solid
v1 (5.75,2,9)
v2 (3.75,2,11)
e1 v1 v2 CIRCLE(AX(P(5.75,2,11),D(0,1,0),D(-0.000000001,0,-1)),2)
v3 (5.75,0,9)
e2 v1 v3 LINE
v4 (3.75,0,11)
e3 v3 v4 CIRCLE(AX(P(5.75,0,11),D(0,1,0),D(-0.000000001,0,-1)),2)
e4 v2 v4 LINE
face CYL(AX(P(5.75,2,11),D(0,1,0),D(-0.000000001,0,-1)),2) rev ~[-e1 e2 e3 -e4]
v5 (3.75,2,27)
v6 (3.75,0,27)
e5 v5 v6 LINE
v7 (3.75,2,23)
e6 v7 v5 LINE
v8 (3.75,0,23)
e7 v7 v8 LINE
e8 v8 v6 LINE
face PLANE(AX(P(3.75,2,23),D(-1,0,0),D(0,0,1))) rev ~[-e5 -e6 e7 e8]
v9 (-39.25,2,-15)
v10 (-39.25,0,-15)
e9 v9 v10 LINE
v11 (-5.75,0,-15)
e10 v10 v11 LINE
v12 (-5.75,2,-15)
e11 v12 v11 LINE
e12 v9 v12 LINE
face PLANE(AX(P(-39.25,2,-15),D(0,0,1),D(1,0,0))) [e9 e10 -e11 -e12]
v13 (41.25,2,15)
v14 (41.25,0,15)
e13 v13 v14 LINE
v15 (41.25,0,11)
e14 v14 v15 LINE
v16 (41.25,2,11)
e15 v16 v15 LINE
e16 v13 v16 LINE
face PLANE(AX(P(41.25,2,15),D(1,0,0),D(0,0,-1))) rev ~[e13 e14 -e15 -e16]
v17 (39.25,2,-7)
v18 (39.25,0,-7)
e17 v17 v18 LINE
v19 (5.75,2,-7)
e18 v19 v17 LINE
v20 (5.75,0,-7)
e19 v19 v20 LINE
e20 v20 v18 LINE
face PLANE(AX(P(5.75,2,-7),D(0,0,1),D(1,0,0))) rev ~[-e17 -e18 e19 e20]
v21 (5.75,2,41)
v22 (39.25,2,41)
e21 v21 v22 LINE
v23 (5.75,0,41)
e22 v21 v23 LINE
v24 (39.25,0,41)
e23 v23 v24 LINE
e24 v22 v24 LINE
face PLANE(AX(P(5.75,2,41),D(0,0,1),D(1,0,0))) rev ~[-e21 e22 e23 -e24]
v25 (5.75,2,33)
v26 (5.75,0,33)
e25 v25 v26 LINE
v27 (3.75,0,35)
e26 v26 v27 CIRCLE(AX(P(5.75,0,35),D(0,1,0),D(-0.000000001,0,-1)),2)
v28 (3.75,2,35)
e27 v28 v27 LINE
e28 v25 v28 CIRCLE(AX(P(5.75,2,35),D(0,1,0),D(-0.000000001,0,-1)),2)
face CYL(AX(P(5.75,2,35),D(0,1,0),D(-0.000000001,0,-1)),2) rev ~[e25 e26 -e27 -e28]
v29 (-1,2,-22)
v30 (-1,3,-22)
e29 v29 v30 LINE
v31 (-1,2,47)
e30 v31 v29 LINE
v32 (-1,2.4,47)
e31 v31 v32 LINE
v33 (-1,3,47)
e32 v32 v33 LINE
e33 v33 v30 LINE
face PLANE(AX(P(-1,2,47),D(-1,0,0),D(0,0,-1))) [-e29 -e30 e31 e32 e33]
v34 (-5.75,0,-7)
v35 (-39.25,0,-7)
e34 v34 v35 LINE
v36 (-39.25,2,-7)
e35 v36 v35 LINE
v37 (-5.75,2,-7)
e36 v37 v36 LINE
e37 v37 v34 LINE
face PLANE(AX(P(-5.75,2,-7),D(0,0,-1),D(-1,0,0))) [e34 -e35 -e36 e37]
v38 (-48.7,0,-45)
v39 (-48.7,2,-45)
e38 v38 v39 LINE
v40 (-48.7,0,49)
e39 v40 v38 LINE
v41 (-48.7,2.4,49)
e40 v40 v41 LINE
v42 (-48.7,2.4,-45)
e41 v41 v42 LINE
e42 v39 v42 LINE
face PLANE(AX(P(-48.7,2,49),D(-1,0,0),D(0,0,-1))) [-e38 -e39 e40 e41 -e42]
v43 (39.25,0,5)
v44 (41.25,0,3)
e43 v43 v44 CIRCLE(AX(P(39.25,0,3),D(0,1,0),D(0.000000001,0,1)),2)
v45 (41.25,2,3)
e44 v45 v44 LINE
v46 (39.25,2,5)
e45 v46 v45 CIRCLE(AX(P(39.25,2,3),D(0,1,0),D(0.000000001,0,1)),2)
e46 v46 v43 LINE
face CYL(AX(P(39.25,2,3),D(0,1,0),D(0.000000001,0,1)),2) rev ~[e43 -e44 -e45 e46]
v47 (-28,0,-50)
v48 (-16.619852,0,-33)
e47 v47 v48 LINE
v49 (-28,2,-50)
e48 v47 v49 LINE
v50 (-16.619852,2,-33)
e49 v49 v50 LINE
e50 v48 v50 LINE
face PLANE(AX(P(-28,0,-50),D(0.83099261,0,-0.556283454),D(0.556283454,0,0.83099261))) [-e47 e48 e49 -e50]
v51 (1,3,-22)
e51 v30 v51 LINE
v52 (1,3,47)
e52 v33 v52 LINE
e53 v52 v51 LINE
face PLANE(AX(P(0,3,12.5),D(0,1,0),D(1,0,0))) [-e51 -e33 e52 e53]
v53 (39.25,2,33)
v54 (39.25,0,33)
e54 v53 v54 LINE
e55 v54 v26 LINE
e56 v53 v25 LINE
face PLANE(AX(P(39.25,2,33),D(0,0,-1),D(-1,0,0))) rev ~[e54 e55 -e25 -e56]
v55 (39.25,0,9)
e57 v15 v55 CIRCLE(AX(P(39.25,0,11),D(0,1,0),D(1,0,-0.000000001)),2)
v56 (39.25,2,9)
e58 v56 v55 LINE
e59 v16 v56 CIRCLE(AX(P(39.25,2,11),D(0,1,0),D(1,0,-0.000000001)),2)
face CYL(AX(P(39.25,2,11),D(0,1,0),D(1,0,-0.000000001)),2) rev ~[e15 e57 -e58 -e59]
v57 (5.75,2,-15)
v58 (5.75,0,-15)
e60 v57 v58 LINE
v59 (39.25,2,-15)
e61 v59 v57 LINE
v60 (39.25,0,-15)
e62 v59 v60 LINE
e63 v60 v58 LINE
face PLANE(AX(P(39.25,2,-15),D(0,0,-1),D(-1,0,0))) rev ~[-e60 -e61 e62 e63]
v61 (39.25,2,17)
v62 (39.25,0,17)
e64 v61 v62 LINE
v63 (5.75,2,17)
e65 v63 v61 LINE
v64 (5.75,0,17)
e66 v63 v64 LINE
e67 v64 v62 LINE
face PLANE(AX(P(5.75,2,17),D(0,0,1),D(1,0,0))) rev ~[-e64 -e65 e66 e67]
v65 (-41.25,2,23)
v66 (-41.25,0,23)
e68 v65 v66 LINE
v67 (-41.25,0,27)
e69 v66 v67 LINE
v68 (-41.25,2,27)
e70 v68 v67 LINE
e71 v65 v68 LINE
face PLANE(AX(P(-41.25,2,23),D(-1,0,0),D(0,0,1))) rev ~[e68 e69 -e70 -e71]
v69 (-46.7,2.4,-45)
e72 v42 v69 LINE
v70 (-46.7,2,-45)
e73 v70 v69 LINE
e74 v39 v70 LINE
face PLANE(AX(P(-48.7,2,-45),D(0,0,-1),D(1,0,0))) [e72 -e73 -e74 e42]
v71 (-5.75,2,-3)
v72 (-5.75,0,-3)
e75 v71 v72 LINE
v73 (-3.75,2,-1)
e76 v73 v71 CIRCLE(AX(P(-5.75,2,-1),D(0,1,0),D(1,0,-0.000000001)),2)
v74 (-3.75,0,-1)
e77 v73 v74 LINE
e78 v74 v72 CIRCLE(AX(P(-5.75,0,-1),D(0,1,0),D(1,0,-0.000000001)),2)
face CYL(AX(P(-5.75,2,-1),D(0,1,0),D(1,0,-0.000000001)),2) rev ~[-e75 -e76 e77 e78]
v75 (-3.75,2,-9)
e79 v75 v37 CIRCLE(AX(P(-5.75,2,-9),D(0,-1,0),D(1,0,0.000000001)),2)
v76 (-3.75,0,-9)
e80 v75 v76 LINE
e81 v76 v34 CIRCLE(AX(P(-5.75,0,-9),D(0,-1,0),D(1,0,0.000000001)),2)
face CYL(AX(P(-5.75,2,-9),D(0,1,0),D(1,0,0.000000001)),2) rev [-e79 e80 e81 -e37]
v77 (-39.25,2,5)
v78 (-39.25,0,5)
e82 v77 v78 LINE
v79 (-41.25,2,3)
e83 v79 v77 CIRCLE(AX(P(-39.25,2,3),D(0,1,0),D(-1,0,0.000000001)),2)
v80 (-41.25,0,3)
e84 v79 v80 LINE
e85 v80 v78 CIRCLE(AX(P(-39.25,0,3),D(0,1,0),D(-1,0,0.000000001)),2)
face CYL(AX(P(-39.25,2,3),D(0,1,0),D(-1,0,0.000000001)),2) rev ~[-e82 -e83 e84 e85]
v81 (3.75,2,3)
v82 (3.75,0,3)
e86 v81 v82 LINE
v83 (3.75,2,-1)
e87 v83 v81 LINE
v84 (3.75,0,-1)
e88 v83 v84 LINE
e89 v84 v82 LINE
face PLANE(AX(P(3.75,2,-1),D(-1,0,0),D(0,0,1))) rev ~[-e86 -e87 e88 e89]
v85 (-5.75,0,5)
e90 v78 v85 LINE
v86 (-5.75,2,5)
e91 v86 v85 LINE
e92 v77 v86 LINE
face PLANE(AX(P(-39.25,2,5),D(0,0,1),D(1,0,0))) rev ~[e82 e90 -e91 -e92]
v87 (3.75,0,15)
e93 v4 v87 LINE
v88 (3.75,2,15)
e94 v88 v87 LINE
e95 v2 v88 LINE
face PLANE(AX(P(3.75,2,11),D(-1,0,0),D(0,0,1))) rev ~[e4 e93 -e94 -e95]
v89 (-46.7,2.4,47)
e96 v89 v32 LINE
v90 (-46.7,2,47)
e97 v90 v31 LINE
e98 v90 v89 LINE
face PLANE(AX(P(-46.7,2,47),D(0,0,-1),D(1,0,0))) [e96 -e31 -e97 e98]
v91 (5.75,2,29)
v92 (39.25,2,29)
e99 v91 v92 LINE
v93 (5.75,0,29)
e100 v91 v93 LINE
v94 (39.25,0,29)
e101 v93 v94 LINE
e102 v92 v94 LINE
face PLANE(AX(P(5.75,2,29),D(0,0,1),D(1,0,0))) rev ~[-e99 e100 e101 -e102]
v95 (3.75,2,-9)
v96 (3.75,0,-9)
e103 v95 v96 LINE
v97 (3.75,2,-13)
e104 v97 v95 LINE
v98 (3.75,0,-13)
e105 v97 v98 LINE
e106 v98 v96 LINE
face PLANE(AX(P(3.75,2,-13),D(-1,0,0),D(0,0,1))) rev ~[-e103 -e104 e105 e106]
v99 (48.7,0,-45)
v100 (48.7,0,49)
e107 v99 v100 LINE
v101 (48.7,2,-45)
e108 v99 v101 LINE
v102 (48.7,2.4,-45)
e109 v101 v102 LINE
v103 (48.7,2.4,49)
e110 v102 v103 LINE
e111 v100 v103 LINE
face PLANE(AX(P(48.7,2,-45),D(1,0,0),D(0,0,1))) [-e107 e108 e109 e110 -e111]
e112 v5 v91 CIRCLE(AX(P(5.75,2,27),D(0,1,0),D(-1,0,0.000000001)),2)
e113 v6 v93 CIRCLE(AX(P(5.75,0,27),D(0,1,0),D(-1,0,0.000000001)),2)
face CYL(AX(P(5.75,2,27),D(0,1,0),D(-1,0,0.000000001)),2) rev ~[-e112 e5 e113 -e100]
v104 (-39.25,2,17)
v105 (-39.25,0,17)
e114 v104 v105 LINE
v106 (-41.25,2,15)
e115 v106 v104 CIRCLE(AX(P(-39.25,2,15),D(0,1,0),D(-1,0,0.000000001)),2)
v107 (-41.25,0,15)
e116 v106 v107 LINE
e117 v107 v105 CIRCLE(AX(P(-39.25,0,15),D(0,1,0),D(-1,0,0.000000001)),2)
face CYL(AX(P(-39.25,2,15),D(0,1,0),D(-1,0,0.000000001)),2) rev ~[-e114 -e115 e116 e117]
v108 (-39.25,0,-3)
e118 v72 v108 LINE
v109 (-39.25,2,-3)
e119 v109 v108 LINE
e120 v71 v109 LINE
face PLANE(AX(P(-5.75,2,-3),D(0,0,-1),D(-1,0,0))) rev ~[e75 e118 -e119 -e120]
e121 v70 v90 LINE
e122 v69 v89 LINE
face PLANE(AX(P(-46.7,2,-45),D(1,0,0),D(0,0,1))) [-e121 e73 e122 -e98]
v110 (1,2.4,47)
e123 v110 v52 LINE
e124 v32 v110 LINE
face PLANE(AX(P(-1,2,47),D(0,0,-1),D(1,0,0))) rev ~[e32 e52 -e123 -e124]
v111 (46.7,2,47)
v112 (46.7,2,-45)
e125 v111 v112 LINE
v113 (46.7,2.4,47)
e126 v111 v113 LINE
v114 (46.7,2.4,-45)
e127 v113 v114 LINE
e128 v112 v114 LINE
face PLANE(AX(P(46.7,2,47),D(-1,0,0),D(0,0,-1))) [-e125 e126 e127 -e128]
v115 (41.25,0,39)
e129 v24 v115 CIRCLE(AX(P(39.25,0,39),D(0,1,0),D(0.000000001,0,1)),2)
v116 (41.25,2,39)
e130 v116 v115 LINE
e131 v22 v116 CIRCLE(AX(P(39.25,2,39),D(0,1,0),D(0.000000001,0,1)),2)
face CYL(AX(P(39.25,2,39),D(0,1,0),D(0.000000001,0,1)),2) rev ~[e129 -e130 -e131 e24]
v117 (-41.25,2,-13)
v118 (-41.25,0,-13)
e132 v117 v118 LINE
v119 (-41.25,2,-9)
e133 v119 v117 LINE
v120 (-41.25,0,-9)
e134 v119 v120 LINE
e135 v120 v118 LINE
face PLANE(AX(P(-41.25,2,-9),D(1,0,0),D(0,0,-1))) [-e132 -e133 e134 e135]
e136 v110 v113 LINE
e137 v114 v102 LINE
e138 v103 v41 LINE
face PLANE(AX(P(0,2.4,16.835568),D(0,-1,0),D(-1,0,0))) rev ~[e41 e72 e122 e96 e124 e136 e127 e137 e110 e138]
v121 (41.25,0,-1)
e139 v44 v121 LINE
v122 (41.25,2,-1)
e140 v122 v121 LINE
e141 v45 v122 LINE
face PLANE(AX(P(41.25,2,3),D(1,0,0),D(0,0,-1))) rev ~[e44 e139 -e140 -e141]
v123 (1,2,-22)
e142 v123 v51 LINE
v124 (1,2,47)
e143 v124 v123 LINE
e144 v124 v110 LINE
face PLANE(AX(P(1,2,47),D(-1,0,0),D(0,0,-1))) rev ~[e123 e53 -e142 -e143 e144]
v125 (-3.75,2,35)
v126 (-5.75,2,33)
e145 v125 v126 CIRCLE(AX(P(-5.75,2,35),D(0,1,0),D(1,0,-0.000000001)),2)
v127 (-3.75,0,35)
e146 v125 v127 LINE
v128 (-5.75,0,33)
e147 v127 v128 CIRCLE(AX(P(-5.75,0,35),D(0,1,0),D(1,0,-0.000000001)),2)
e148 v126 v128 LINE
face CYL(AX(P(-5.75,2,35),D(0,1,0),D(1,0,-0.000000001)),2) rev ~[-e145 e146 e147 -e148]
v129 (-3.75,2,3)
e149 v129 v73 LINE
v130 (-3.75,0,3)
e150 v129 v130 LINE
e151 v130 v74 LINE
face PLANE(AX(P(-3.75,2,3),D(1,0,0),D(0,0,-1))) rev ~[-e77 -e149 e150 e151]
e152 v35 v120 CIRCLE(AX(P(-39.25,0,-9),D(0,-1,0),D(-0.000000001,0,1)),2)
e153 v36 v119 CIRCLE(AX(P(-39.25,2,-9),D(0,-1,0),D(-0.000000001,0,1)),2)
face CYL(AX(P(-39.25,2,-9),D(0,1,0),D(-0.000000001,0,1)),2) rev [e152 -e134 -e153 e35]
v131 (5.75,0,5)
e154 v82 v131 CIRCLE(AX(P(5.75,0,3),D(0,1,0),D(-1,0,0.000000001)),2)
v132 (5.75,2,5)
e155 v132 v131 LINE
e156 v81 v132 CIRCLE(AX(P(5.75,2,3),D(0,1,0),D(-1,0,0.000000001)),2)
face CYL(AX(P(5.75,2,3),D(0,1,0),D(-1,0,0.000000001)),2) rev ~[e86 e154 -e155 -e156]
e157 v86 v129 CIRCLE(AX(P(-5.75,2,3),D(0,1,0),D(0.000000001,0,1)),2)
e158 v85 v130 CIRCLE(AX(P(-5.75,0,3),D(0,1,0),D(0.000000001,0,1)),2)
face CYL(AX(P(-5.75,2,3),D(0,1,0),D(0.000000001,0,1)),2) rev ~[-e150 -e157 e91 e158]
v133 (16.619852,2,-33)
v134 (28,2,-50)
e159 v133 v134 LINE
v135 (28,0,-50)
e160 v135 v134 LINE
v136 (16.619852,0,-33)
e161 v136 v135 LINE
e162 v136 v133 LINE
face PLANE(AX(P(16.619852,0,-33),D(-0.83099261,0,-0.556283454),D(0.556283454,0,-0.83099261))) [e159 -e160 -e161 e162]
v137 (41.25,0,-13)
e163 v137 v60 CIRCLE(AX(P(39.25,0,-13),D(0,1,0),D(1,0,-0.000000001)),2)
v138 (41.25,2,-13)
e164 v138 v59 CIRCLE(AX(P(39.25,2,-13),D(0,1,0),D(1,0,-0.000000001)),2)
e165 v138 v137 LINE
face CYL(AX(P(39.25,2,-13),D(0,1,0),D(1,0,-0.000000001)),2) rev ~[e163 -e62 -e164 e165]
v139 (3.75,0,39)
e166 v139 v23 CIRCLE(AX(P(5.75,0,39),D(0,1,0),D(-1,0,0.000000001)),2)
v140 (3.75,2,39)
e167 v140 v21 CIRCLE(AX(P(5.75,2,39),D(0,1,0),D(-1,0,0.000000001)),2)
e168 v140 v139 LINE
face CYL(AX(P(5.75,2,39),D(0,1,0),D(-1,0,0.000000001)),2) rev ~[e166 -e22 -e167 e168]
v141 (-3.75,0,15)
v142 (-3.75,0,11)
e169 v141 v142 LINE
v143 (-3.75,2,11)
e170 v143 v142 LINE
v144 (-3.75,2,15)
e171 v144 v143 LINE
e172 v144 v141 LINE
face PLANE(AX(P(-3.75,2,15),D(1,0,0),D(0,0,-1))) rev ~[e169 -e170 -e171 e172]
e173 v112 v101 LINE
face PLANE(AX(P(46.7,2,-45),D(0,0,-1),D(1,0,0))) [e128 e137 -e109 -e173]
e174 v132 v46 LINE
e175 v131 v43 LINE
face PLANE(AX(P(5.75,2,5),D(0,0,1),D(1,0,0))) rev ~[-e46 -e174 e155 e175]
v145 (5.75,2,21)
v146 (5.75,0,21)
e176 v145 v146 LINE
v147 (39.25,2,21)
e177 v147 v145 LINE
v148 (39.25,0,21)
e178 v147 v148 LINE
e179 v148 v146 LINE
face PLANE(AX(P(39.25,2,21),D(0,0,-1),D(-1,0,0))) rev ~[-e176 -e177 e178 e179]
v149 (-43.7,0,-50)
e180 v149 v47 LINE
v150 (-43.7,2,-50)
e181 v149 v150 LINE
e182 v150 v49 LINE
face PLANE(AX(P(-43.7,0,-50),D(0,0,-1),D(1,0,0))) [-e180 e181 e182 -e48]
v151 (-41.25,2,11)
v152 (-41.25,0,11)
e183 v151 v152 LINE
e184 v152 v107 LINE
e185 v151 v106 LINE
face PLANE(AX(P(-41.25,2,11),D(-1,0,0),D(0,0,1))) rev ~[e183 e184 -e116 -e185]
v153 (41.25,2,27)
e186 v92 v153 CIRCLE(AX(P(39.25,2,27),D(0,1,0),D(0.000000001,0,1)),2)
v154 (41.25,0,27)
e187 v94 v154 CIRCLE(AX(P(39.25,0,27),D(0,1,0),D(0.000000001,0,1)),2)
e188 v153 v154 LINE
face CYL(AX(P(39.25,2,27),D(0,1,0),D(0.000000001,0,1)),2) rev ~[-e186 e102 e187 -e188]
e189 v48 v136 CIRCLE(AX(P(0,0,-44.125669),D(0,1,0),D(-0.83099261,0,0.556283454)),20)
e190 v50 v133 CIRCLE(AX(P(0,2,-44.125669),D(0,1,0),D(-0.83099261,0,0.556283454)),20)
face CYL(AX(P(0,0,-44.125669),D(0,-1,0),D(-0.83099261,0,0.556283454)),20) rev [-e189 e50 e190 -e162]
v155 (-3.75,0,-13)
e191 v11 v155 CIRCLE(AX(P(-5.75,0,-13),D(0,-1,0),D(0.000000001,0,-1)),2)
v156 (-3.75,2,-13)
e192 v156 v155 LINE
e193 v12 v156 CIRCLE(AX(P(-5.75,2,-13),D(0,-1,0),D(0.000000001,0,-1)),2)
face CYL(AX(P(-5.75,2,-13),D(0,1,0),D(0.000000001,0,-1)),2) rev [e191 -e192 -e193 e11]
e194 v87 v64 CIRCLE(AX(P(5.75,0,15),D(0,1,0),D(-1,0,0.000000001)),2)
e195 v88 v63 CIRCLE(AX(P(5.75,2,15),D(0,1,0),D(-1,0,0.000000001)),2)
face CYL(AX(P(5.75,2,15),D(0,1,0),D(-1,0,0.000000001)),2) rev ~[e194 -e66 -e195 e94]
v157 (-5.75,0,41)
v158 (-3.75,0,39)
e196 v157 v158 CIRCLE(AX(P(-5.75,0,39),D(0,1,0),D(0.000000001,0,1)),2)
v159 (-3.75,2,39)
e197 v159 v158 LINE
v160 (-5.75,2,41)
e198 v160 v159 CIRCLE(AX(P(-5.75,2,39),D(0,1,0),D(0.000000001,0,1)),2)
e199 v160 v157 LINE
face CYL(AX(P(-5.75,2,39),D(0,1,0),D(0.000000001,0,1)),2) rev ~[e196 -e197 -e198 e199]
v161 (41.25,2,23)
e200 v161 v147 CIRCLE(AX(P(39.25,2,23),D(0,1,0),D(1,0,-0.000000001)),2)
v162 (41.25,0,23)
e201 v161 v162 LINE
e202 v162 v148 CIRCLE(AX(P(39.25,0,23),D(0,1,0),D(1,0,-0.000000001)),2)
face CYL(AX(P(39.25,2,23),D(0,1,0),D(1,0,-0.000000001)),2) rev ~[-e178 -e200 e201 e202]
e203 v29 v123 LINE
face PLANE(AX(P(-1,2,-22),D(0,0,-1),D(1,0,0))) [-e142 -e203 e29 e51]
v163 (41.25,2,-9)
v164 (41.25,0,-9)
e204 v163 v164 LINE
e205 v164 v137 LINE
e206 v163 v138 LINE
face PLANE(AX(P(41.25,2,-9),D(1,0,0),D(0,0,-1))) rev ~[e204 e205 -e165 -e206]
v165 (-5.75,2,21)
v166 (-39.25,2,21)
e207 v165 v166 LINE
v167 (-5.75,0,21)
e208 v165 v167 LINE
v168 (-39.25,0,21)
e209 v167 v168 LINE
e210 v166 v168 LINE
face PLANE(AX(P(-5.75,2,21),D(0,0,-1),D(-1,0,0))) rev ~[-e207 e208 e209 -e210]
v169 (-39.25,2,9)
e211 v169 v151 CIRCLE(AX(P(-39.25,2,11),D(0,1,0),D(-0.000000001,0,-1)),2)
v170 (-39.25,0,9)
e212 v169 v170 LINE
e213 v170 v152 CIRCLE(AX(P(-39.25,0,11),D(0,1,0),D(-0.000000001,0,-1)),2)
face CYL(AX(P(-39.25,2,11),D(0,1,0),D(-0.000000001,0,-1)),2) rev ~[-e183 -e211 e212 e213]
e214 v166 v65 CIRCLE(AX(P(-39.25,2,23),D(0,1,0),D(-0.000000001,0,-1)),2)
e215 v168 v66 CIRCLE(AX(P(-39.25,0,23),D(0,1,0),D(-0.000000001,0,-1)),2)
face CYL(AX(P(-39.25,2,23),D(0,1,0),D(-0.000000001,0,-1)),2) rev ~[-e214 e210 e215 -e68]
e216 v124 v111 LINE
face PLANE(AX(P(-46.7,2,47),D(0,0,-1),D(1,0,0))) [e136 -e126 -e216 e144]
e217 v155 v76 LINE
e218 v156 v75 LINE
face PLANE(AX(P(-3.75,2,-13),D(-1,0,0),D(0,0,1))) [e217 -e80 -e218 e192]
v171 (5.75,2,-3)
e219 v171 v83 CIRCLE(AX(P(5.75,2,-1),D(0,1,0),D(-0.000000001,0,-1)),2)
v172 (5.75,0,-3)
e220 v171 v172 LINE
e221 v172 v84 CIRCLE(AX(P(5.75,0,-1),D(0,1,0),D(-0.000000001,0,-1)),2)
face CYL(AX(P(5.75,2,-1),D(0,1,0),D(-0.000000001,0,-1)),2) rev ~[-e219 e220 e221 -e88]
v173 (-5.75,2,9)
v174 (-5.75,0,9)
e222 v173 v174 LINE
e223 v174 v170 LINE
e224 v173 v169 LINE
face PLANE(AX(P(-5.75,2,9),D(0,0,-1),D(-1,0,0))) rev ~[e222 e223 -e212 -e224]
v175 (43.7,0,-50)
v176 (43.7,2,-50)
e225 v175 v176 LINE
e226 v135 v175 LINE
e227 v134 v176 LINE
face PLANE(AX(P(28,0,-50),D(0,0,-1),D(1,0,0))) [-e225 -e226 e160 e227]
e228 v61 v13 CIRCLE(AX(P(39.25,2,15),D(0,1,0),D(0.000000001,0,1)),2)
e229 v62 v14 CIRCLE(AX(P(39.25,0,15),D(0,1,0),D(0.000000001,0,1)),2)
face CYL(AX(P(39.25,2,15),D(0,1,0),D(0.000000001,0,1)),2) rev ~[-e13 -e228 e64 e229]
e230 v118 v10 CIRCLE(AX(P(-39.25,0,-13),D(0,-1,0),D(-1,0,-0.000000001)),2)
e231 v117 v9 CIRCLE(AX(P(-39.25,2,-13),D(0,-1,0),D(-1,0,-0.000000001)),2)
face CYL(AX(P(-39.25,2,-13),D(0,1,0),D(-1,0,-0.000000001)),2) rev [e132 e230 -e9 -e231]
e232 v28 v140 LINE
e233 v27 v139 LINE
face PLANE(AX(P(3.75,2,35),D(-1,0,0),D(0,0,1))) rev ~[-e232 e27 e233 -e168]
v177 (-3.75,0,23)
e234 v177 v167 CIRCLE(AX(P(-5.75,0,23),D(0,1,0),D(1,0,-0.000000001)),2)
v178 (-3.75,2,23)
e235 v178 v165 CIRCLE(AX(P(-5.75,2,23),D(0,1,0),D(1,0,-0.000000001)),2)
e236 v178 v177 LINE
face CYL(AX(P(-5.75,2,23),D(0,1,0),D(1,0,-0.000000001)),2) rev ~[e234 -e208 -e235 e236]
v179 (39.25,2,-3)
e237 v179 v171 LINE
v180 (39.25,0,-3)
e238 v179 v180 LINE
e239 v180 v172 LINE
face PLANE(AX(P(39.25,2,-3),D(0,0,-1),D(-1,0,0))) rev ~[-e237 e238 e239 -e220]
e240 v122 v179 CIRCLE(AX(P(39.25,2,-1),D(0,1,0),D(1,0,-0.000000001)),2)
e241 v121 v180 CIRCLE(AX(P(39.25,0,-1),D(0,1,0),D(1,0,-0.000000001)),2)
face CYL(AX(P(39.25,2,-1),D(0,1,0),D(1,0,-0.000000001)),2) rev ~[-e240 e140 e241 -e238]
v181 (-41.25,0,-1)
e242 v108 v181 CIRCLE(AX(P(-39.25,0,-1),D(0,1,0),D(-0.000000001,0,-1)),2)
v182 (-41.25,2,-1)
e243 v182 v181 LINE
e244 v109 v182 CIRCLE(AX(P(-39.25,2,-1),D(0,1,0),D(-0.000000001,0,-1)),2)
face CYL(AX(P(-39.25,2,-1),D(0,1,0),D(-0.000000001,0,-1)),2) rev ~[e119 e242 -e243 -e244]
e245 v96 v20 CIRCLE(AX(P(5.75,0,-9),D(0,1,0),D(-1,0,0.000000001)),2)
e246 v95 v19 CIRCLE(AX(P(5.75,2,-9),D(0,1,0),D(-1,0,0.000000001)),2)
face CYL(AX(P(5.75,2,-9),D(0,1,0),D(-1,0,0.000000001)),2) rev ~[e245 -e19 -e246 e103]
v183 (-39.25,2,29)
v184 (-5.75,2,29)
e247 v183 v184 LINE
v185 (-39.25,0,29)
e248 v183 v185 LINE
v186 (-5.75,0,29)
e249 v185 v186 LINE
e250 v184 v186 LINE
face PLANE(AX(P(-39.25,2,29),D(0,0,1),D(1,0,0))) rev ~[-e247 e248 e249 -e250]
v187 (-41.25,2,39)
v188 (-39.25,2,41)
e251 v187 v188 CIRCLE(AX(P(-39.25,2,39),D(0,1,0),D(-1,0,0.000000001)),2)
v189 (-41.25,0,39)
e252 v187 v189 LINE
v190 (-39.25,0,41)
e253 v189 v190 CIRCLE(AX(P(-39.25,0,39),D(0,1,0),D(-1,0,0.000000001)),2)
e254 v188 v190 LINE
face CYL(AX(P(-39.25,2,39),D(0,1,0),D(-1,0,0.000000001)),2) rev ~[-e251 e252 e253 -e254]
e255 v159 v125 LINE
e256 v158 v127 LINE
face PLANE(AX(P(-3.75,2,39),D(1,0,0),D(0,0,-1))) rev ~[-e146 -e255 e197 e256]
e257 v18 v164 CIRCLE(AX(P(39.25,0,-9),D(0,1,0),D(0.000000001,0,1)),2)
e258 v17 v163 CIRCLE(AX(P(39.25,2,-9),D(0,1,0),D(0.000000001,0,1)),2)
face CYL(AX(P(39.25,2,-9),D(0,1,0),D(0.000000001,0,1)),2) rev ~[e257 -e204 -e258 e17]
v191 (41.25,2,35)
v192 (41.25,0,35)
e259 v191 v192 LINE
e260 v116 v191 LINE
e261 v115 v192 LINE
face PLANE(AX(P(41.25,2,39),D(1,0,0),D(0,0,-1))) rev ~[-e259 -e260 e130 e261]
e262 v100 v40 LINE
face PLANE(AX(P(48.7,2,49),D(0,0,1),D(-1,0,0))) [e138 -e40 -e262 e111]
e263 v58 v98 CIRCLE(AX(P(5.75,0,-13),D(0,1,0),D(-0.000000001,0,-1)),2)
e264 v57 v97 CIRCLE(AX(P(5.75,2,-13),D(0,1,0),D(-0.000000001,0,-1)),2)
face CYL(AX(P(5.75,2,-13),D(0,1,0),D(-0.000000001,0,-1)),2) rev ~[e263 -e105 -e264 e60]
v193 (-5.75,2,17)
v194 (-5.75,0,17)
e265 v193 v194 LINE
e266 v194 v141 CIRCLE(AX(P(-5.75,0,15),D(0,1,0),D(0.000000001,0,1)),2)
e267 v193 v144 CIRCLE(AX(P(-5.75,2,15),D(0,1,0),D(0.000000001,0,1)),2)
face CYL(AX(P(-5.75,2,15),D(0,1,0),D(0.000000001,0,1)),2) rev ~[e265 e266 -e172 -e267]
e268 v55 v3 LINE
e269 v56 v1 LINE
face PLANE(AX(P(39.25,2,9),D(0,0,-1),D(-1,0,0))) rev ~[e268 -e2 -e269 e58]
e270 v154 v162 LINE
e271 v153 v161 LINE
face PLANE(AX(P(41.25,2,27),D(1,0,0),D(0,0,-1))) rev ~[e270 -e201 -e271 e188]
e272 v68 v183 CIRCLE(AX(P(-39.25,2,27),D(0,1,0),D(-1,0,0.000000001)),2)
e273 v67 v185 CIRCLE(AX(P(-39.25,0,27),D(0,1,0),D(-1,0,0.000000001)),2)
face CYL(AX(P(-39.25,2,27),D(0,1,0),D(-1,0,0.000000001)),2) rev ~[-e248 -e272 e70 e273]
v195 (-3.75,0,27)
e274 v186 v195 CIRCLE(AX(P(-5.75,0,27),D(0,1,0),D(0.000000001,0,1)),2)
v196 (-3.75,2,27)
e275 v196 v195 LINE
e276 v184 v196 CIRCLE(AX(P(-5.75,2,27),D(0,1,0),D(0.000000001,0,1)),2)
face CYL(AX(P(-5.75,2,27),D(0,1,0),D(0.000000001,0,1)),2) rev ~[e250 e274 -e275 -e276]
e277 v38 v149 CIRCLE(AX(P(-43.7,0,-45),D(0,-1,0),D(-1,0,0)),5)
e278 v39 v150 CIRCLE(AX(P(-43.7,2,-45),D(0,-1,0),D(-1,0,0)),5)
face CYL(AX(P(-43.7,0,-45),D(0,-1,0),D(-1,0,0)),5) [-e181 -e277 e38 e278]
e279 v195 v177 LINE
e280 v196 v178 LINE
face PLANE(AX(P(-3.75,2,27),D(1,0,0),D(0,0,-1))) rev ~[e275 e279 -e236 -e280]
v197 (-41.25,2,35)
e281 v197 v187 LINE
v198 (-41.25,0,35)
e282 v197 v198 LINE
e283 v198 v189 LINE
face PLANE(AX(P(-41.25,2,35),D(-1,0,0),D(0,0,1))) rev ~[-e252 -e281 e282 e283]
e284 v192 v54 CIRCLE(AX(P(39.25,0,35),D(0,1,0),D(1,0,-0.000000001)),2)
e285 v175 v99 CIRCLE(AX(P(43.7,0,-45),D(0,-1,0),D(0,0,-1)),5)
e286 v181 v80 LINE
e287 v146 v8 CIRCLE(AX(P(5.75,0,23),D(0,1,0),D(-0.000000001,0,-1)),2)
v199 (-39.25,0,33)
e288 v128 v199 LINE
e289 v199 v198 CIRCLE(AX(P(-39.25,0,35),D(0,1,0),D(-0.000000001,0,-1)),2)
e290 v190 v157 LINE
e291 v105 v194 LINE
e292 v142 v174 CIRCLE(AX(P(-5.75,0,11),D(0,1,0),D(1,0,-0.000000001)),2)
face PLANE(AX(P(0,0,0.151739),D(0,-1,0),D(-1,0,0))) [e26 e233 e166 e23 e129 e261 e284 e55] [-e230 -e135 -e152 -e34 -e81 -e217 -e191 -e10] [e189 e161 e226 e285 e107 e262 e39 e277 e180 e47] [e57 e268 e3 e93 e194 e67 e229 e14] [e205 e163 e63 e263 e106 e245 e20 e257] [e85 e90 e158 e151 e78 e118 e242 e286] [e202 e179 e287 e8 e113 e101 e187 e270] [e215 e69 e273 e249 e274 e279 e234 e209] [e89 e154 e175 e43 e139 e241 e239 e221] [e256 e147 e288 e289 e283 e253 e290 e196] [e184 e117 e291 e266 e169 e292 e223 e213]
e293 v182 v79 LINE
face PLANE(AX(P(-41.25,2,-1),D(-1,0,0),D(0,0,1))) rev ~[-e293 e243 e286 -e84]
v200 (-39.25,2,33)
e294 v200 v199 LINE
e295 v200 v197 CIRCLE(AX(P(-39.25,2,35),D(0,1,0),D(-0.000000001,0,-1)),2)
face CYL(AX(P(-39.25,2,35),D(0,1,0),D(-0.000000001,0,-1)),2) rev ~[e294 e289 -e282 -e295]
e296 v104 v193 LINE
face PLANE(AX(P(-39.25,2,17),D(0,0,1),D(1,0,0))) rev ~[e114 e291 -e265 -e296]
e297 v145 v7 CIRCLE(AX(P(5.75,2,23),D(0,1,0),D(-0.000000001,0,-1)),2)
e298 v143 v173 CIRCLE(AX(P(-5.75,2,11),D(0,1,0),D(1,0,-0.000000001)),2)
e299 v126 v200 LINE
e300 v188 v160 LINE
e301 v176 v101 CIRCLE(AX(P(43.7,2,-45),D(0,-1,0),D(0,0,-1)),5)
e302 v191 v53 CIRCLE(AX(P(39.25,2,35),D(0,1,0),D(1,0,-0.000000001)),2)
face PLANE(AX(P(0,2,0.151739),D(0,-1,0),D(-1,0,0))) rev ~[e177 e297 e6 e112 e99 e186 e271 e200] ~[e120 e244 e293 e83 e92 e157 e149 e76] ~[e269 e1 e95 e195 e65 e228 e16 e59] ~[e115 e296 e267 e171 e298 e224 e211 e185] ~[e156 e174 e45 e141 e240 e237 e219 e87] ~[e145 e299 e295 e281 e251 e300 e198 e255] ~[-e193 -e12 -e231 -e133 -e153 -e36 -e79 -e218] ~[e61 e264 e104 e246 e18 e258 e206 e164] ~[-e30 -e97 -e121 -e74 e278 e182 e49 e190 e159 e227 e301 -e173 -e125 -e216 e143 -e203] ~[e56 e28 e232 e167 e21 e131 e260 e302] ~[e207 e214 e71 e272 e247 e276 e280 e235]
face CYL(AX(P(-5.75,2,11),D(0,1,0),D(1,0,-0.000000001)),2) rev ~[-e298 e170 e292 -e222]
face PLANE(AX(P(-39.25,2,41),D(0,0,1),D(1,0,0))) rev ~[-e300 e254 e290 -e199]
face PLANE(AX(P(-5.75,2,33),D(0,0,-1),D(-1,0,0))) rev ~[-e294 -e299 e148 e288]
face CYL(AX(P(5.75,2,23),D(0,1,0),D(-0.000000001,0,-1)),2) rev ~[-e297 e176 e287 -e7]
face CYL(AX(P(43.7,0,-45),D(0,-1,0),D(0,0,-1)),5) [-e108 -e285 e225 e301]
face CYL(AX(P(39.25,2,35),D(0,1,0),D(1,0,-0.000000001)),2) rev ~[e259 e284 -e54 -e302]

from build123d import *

# Parameters (mm, degrees)
GRUNDK_RPER_DEPTH  = 2
L_FTUNGEN_DEPTH    = 2
SKIZZE4_W          = 2
SKIZZE4_H          = 69
STREBE_DEPTH       = 1
STREBE_AU_EN_DEPTH = 0.4


with BuildPart() as part:
    # Skizze2 → Grundkörper (new body)
    with BuildSketch(Plane(origin=(0, 0, 0), x_dir=(1, 0, 0), z_dir=(0, 1, 0))):
        with BuildLine():
            Line((-43.7, 50), (-28, 50))
            Line((-28, 50), (-16.61985221, 33))
            ThreePointArc((-16.61985221, 33), (0, 24.125669082), (16.61985221, 33))
            Line((16.61985221, 33), (28, 50))
            Line((28, 50), (43.7, 50))
            ThreePointArc((43.7, 50), (47.235533906, 48.535533906), (48.7, 45))
            Line((48.7, 45), (48.7, -49))
            Line((48.7, -49), (-48.7, -49))
            Line((-48.7, -49), (-48.7, 45))
            ThreePointArc((-48.7, 45), (-47.235533906, 48.535533906), (-43.7, 50))
        make_face()
    extrude(amount=GRUNDK_RPER_DEPTH)

    # Skizze3 → Lüftungen (cut)
    with BuildSketch(Plane(origin=(0, 2, 0), x_dir=(1, 0, 0), z_dir=(0, 1, 0))):
        with BuildLine():
            Line((-39.25, 15), (-5.75, 15))
            ThreePointArc((-5.75, 15), (-4.335786438, 14.414213562), (-3.75, 13))
            Line((-3.75, 13), (-3.75, 9))
            ThreePointArc((-3.75, 9), (-4.335786438, 7.585786438), (-5.75, 7))
            Line((-5.75, 7), (-39.25, 7))
            ThreePointArc((-39.25, 7), (-40.664213562, 7.585786438), (-41.25, 9))
            Line((-41.25, 9), (-41.25, 13))
            ThreePointArc((-41.25, 13), (-40.664213562, 14.414213562), (-39.25, 15))
        make_face()
        with BuildLine():
            Line((3.75, 13), (3.75, 9))
            ThreePointArc((3.75, 9), (4.335786438, 7.585786438), (5.75, 7))
            Line((5.75, 7), (39.25, 7))
            ThreePointArc((39.25, 7), (40.664213562, 7.585786438), (41.25, 9))
            Line((41.25, 9), (41.25, 13))
            ThreePointArc((41.25, 13), (40.664213562, 14.414213562), (39.25, 15))
            Line((39.25, 15), (5.75, 15))
            ThreePointArc((5.75, 15), (4.335786438, 14.414213562), (3.75, 13))
        make_face()
        with BuildLine():
            Line((3.75, 1), (3.75, -3))
            ThreePointArc((3.75, -3), (4.335786438, -4.414213562), (5.75, -5))
            Line((5.75, -5), (39.25, -5))
            ThreePointArc((39.25, -5), (40.664213562, -4.414213562), (41.25, -3))
            Line((41.25, -3), (41.25, 1))
            ThreePointArc((41.25, 1), (40.664213562, 2.414213562), (39.25, 3))
            Line((39.25, 3), (5.75, 3))
            ThreePointArc((5.75, 3), (4.335786438, 2.414213562), (3.75, 1))
        make_face()
        with BuildLine():
            Line((3.75, -11), (3.75, -15))
            ThreePointArc((3.75, -15), (4.335786438, -16.414213562), (5.75, -17))
            Line((5.75, -17), (39.25, -17))
            ThreePointArc((39.25, -17), (40.664213562, -16.414213562), (41.25, -15))
            Line((41.25, -15), (41.25, -11))
            ThreePointArc((41.25, -11), (40.664213562, -9.585786438), (39.25, -9))
            Line((39.25, -9), (5.75, -9))
            ThreePointArc((5.75, -9), (4.335786438, -9.585786438), (3.75, -11))
        make_face()
        with BuildLine():
            Line((3.75, -23), (3.75, -27))
            ThreePointArc((3.75, -27), (4.335786438, -28.414213562), (5.75, -29))
            Line((5.75, -29), (39.25, -29))
            ThreePointArc((39.25, -29), (40.664213562, -28.414213562), (41.25, -27))
            Line((41.25, -27), (41.25, -23))
            ThreePointArc((41.25, -23), (40.664213562, -21.585786438), (39.25, -21))
            Line((39.25, -21), (5.75, -21))
            ThreePointArc((5.75, -21), (4.335786438, -21.585786438), (3.75, -23))
        make_face()
        with BuildLine():
            Line((3.75, -35), (3.75, -39))
            ThreePointArc((3.75, -39), (4.335786438, -40.414213562), (5.75, -41))
            Line((5.75, -41), (39.25, -41))
            ThreePointArc((39.25, -41), (40.664213562, -40.414213562), (41.25, -39))
            Line((41.25, -39), (41.25, -35))
            ThreePointArc((41.25, -35), (40.664213562, -33.585786438), (39.25, -33))
            Line((39.25, -33), (5.75, -33))
            ThreePointArc((5.75, -33), (4.335786438, -33.585786438), (3.75, -35))
        make_face()
        with BuildLine():
            Line((-41.25, 1), (-41.25, -3))
            ThreePointArc((-41.25, -3), (-40.664213562, -4.414213562), (-39.25, -5))
            Line((-39.25, -5), (-5.75, -5))
            ThreePointArc((-5.75, -5), (-4.335786438, -4.414213562), (-3.75, -3))
            Line((-3.75, -3), (-3.75, 1))
            ThreePointArc((-3.75, 1), (-4.335786438, 2.414213562), (-5.75, 3))
            Line((-5.75, 3), (-39.25, 3))
            ThreePointArc((-39.25, 3), (-40.664213562, 2.414213562), (-41.25, 1))
        make_face()
        with BuildLine():
            Line((-41.25, -11), (-41.25, -15))
            ThreePointArc((-41.25, -15), (-40.664213562, -16.414213562), (-39.25, -17))
            Line((-39.25, -17), (-5.75, -17))
            ThreePointArc((-5.75, -17), (-4.335786438, -16.414213562), (-3.75, -15))
            Line((-3.75, -15), (-3.75, -11))
            ThreePointArc((-3.75, -11), (-4.335786438, -9.585786438), (-5.75, -9))
            Line((-5.75, -9), (-39.25, -9))
            ThreePointArc((-39.25, -9), (-40.664213562, -9.585786438), (-41.25, -11))
        make_face()
        with BuildLine():
            Line((-41.25, -23), (-41.25, -27))
            ThreePointArc((-41.25, -27), (-40.664213562, -28.414213562), (-39.25, -29))
            Line((-39.25, -29), (-5.75, -29))
            ThreePointArc((-5.75, -29), (-4.335786438, -28.414213562), (-3.75, -27))
            Line((-3.75, -27), (-3.75, -23))
            ThreePointArc((-3.75, -23), (-4.335786438, -21.585786438), (-5.75, -21))
            Line((-5.75, -21), (-39.25, -21))
            ThreePointArc((-39.25, -21), (-40.664213562, -21.585786438), (-41.25, -23))
        make_face()
        with BuildLine():
            Line((-41.25, -35), (-41.25, -39))
            ThreePointArc((-41.25, -39), (-40.664213562, -40.414213562), (-39.25, -41))
            Line((-39.25, -41), (-5.75, -41))
            ThreePointArc((-5.75, -41), (-4.335786438, -40.414213562), (-3.75, -39))
            Line((-3.75, -39), (-3.75, -35))
            ThreePointArc((-3.75, -35), (-4.335786438, -33.585786438), (-5.75, -33))
            Line((-5.75, -33), (-39.25, -33))
            ThreePointArc((-39.25, -33), (-40.664213562, -33.585786438), (-41.25, -35))
        make_face()
    extrude(amount=-L_FTUNGEN_DEPTH, mode=Mode.SUBTRACT)

    # Skizze4 → Strebe (add)
    with BuildSketch(Plane(origin=(0, 2, 0), x_dir=(1, 0, 0), z_dir=(0, 1, 0))):
        with Locations((0, -12.5)):
            Rectangle(SKIZZE4_W, SKIZZE4_H)
    extrude(amount=STREBE_DEPTH)

    # Skizze5 → Strebe außen (add)
    with BuildSketch(Plane(origin=(0, 2, 0), x_dir=(1, 0, 0), z_dir=(0, 1, 0))):
        Polygon((-48.7, 45), (-46.7, 45), (-46.7, -47), (46.7, -47), (46.7, 45), (48.7, 45), (48.7, -49), (-48.7, -49), align=None)
    extrude(amount=STREBE_AU_EN_DEPTH)


solid = part.part
